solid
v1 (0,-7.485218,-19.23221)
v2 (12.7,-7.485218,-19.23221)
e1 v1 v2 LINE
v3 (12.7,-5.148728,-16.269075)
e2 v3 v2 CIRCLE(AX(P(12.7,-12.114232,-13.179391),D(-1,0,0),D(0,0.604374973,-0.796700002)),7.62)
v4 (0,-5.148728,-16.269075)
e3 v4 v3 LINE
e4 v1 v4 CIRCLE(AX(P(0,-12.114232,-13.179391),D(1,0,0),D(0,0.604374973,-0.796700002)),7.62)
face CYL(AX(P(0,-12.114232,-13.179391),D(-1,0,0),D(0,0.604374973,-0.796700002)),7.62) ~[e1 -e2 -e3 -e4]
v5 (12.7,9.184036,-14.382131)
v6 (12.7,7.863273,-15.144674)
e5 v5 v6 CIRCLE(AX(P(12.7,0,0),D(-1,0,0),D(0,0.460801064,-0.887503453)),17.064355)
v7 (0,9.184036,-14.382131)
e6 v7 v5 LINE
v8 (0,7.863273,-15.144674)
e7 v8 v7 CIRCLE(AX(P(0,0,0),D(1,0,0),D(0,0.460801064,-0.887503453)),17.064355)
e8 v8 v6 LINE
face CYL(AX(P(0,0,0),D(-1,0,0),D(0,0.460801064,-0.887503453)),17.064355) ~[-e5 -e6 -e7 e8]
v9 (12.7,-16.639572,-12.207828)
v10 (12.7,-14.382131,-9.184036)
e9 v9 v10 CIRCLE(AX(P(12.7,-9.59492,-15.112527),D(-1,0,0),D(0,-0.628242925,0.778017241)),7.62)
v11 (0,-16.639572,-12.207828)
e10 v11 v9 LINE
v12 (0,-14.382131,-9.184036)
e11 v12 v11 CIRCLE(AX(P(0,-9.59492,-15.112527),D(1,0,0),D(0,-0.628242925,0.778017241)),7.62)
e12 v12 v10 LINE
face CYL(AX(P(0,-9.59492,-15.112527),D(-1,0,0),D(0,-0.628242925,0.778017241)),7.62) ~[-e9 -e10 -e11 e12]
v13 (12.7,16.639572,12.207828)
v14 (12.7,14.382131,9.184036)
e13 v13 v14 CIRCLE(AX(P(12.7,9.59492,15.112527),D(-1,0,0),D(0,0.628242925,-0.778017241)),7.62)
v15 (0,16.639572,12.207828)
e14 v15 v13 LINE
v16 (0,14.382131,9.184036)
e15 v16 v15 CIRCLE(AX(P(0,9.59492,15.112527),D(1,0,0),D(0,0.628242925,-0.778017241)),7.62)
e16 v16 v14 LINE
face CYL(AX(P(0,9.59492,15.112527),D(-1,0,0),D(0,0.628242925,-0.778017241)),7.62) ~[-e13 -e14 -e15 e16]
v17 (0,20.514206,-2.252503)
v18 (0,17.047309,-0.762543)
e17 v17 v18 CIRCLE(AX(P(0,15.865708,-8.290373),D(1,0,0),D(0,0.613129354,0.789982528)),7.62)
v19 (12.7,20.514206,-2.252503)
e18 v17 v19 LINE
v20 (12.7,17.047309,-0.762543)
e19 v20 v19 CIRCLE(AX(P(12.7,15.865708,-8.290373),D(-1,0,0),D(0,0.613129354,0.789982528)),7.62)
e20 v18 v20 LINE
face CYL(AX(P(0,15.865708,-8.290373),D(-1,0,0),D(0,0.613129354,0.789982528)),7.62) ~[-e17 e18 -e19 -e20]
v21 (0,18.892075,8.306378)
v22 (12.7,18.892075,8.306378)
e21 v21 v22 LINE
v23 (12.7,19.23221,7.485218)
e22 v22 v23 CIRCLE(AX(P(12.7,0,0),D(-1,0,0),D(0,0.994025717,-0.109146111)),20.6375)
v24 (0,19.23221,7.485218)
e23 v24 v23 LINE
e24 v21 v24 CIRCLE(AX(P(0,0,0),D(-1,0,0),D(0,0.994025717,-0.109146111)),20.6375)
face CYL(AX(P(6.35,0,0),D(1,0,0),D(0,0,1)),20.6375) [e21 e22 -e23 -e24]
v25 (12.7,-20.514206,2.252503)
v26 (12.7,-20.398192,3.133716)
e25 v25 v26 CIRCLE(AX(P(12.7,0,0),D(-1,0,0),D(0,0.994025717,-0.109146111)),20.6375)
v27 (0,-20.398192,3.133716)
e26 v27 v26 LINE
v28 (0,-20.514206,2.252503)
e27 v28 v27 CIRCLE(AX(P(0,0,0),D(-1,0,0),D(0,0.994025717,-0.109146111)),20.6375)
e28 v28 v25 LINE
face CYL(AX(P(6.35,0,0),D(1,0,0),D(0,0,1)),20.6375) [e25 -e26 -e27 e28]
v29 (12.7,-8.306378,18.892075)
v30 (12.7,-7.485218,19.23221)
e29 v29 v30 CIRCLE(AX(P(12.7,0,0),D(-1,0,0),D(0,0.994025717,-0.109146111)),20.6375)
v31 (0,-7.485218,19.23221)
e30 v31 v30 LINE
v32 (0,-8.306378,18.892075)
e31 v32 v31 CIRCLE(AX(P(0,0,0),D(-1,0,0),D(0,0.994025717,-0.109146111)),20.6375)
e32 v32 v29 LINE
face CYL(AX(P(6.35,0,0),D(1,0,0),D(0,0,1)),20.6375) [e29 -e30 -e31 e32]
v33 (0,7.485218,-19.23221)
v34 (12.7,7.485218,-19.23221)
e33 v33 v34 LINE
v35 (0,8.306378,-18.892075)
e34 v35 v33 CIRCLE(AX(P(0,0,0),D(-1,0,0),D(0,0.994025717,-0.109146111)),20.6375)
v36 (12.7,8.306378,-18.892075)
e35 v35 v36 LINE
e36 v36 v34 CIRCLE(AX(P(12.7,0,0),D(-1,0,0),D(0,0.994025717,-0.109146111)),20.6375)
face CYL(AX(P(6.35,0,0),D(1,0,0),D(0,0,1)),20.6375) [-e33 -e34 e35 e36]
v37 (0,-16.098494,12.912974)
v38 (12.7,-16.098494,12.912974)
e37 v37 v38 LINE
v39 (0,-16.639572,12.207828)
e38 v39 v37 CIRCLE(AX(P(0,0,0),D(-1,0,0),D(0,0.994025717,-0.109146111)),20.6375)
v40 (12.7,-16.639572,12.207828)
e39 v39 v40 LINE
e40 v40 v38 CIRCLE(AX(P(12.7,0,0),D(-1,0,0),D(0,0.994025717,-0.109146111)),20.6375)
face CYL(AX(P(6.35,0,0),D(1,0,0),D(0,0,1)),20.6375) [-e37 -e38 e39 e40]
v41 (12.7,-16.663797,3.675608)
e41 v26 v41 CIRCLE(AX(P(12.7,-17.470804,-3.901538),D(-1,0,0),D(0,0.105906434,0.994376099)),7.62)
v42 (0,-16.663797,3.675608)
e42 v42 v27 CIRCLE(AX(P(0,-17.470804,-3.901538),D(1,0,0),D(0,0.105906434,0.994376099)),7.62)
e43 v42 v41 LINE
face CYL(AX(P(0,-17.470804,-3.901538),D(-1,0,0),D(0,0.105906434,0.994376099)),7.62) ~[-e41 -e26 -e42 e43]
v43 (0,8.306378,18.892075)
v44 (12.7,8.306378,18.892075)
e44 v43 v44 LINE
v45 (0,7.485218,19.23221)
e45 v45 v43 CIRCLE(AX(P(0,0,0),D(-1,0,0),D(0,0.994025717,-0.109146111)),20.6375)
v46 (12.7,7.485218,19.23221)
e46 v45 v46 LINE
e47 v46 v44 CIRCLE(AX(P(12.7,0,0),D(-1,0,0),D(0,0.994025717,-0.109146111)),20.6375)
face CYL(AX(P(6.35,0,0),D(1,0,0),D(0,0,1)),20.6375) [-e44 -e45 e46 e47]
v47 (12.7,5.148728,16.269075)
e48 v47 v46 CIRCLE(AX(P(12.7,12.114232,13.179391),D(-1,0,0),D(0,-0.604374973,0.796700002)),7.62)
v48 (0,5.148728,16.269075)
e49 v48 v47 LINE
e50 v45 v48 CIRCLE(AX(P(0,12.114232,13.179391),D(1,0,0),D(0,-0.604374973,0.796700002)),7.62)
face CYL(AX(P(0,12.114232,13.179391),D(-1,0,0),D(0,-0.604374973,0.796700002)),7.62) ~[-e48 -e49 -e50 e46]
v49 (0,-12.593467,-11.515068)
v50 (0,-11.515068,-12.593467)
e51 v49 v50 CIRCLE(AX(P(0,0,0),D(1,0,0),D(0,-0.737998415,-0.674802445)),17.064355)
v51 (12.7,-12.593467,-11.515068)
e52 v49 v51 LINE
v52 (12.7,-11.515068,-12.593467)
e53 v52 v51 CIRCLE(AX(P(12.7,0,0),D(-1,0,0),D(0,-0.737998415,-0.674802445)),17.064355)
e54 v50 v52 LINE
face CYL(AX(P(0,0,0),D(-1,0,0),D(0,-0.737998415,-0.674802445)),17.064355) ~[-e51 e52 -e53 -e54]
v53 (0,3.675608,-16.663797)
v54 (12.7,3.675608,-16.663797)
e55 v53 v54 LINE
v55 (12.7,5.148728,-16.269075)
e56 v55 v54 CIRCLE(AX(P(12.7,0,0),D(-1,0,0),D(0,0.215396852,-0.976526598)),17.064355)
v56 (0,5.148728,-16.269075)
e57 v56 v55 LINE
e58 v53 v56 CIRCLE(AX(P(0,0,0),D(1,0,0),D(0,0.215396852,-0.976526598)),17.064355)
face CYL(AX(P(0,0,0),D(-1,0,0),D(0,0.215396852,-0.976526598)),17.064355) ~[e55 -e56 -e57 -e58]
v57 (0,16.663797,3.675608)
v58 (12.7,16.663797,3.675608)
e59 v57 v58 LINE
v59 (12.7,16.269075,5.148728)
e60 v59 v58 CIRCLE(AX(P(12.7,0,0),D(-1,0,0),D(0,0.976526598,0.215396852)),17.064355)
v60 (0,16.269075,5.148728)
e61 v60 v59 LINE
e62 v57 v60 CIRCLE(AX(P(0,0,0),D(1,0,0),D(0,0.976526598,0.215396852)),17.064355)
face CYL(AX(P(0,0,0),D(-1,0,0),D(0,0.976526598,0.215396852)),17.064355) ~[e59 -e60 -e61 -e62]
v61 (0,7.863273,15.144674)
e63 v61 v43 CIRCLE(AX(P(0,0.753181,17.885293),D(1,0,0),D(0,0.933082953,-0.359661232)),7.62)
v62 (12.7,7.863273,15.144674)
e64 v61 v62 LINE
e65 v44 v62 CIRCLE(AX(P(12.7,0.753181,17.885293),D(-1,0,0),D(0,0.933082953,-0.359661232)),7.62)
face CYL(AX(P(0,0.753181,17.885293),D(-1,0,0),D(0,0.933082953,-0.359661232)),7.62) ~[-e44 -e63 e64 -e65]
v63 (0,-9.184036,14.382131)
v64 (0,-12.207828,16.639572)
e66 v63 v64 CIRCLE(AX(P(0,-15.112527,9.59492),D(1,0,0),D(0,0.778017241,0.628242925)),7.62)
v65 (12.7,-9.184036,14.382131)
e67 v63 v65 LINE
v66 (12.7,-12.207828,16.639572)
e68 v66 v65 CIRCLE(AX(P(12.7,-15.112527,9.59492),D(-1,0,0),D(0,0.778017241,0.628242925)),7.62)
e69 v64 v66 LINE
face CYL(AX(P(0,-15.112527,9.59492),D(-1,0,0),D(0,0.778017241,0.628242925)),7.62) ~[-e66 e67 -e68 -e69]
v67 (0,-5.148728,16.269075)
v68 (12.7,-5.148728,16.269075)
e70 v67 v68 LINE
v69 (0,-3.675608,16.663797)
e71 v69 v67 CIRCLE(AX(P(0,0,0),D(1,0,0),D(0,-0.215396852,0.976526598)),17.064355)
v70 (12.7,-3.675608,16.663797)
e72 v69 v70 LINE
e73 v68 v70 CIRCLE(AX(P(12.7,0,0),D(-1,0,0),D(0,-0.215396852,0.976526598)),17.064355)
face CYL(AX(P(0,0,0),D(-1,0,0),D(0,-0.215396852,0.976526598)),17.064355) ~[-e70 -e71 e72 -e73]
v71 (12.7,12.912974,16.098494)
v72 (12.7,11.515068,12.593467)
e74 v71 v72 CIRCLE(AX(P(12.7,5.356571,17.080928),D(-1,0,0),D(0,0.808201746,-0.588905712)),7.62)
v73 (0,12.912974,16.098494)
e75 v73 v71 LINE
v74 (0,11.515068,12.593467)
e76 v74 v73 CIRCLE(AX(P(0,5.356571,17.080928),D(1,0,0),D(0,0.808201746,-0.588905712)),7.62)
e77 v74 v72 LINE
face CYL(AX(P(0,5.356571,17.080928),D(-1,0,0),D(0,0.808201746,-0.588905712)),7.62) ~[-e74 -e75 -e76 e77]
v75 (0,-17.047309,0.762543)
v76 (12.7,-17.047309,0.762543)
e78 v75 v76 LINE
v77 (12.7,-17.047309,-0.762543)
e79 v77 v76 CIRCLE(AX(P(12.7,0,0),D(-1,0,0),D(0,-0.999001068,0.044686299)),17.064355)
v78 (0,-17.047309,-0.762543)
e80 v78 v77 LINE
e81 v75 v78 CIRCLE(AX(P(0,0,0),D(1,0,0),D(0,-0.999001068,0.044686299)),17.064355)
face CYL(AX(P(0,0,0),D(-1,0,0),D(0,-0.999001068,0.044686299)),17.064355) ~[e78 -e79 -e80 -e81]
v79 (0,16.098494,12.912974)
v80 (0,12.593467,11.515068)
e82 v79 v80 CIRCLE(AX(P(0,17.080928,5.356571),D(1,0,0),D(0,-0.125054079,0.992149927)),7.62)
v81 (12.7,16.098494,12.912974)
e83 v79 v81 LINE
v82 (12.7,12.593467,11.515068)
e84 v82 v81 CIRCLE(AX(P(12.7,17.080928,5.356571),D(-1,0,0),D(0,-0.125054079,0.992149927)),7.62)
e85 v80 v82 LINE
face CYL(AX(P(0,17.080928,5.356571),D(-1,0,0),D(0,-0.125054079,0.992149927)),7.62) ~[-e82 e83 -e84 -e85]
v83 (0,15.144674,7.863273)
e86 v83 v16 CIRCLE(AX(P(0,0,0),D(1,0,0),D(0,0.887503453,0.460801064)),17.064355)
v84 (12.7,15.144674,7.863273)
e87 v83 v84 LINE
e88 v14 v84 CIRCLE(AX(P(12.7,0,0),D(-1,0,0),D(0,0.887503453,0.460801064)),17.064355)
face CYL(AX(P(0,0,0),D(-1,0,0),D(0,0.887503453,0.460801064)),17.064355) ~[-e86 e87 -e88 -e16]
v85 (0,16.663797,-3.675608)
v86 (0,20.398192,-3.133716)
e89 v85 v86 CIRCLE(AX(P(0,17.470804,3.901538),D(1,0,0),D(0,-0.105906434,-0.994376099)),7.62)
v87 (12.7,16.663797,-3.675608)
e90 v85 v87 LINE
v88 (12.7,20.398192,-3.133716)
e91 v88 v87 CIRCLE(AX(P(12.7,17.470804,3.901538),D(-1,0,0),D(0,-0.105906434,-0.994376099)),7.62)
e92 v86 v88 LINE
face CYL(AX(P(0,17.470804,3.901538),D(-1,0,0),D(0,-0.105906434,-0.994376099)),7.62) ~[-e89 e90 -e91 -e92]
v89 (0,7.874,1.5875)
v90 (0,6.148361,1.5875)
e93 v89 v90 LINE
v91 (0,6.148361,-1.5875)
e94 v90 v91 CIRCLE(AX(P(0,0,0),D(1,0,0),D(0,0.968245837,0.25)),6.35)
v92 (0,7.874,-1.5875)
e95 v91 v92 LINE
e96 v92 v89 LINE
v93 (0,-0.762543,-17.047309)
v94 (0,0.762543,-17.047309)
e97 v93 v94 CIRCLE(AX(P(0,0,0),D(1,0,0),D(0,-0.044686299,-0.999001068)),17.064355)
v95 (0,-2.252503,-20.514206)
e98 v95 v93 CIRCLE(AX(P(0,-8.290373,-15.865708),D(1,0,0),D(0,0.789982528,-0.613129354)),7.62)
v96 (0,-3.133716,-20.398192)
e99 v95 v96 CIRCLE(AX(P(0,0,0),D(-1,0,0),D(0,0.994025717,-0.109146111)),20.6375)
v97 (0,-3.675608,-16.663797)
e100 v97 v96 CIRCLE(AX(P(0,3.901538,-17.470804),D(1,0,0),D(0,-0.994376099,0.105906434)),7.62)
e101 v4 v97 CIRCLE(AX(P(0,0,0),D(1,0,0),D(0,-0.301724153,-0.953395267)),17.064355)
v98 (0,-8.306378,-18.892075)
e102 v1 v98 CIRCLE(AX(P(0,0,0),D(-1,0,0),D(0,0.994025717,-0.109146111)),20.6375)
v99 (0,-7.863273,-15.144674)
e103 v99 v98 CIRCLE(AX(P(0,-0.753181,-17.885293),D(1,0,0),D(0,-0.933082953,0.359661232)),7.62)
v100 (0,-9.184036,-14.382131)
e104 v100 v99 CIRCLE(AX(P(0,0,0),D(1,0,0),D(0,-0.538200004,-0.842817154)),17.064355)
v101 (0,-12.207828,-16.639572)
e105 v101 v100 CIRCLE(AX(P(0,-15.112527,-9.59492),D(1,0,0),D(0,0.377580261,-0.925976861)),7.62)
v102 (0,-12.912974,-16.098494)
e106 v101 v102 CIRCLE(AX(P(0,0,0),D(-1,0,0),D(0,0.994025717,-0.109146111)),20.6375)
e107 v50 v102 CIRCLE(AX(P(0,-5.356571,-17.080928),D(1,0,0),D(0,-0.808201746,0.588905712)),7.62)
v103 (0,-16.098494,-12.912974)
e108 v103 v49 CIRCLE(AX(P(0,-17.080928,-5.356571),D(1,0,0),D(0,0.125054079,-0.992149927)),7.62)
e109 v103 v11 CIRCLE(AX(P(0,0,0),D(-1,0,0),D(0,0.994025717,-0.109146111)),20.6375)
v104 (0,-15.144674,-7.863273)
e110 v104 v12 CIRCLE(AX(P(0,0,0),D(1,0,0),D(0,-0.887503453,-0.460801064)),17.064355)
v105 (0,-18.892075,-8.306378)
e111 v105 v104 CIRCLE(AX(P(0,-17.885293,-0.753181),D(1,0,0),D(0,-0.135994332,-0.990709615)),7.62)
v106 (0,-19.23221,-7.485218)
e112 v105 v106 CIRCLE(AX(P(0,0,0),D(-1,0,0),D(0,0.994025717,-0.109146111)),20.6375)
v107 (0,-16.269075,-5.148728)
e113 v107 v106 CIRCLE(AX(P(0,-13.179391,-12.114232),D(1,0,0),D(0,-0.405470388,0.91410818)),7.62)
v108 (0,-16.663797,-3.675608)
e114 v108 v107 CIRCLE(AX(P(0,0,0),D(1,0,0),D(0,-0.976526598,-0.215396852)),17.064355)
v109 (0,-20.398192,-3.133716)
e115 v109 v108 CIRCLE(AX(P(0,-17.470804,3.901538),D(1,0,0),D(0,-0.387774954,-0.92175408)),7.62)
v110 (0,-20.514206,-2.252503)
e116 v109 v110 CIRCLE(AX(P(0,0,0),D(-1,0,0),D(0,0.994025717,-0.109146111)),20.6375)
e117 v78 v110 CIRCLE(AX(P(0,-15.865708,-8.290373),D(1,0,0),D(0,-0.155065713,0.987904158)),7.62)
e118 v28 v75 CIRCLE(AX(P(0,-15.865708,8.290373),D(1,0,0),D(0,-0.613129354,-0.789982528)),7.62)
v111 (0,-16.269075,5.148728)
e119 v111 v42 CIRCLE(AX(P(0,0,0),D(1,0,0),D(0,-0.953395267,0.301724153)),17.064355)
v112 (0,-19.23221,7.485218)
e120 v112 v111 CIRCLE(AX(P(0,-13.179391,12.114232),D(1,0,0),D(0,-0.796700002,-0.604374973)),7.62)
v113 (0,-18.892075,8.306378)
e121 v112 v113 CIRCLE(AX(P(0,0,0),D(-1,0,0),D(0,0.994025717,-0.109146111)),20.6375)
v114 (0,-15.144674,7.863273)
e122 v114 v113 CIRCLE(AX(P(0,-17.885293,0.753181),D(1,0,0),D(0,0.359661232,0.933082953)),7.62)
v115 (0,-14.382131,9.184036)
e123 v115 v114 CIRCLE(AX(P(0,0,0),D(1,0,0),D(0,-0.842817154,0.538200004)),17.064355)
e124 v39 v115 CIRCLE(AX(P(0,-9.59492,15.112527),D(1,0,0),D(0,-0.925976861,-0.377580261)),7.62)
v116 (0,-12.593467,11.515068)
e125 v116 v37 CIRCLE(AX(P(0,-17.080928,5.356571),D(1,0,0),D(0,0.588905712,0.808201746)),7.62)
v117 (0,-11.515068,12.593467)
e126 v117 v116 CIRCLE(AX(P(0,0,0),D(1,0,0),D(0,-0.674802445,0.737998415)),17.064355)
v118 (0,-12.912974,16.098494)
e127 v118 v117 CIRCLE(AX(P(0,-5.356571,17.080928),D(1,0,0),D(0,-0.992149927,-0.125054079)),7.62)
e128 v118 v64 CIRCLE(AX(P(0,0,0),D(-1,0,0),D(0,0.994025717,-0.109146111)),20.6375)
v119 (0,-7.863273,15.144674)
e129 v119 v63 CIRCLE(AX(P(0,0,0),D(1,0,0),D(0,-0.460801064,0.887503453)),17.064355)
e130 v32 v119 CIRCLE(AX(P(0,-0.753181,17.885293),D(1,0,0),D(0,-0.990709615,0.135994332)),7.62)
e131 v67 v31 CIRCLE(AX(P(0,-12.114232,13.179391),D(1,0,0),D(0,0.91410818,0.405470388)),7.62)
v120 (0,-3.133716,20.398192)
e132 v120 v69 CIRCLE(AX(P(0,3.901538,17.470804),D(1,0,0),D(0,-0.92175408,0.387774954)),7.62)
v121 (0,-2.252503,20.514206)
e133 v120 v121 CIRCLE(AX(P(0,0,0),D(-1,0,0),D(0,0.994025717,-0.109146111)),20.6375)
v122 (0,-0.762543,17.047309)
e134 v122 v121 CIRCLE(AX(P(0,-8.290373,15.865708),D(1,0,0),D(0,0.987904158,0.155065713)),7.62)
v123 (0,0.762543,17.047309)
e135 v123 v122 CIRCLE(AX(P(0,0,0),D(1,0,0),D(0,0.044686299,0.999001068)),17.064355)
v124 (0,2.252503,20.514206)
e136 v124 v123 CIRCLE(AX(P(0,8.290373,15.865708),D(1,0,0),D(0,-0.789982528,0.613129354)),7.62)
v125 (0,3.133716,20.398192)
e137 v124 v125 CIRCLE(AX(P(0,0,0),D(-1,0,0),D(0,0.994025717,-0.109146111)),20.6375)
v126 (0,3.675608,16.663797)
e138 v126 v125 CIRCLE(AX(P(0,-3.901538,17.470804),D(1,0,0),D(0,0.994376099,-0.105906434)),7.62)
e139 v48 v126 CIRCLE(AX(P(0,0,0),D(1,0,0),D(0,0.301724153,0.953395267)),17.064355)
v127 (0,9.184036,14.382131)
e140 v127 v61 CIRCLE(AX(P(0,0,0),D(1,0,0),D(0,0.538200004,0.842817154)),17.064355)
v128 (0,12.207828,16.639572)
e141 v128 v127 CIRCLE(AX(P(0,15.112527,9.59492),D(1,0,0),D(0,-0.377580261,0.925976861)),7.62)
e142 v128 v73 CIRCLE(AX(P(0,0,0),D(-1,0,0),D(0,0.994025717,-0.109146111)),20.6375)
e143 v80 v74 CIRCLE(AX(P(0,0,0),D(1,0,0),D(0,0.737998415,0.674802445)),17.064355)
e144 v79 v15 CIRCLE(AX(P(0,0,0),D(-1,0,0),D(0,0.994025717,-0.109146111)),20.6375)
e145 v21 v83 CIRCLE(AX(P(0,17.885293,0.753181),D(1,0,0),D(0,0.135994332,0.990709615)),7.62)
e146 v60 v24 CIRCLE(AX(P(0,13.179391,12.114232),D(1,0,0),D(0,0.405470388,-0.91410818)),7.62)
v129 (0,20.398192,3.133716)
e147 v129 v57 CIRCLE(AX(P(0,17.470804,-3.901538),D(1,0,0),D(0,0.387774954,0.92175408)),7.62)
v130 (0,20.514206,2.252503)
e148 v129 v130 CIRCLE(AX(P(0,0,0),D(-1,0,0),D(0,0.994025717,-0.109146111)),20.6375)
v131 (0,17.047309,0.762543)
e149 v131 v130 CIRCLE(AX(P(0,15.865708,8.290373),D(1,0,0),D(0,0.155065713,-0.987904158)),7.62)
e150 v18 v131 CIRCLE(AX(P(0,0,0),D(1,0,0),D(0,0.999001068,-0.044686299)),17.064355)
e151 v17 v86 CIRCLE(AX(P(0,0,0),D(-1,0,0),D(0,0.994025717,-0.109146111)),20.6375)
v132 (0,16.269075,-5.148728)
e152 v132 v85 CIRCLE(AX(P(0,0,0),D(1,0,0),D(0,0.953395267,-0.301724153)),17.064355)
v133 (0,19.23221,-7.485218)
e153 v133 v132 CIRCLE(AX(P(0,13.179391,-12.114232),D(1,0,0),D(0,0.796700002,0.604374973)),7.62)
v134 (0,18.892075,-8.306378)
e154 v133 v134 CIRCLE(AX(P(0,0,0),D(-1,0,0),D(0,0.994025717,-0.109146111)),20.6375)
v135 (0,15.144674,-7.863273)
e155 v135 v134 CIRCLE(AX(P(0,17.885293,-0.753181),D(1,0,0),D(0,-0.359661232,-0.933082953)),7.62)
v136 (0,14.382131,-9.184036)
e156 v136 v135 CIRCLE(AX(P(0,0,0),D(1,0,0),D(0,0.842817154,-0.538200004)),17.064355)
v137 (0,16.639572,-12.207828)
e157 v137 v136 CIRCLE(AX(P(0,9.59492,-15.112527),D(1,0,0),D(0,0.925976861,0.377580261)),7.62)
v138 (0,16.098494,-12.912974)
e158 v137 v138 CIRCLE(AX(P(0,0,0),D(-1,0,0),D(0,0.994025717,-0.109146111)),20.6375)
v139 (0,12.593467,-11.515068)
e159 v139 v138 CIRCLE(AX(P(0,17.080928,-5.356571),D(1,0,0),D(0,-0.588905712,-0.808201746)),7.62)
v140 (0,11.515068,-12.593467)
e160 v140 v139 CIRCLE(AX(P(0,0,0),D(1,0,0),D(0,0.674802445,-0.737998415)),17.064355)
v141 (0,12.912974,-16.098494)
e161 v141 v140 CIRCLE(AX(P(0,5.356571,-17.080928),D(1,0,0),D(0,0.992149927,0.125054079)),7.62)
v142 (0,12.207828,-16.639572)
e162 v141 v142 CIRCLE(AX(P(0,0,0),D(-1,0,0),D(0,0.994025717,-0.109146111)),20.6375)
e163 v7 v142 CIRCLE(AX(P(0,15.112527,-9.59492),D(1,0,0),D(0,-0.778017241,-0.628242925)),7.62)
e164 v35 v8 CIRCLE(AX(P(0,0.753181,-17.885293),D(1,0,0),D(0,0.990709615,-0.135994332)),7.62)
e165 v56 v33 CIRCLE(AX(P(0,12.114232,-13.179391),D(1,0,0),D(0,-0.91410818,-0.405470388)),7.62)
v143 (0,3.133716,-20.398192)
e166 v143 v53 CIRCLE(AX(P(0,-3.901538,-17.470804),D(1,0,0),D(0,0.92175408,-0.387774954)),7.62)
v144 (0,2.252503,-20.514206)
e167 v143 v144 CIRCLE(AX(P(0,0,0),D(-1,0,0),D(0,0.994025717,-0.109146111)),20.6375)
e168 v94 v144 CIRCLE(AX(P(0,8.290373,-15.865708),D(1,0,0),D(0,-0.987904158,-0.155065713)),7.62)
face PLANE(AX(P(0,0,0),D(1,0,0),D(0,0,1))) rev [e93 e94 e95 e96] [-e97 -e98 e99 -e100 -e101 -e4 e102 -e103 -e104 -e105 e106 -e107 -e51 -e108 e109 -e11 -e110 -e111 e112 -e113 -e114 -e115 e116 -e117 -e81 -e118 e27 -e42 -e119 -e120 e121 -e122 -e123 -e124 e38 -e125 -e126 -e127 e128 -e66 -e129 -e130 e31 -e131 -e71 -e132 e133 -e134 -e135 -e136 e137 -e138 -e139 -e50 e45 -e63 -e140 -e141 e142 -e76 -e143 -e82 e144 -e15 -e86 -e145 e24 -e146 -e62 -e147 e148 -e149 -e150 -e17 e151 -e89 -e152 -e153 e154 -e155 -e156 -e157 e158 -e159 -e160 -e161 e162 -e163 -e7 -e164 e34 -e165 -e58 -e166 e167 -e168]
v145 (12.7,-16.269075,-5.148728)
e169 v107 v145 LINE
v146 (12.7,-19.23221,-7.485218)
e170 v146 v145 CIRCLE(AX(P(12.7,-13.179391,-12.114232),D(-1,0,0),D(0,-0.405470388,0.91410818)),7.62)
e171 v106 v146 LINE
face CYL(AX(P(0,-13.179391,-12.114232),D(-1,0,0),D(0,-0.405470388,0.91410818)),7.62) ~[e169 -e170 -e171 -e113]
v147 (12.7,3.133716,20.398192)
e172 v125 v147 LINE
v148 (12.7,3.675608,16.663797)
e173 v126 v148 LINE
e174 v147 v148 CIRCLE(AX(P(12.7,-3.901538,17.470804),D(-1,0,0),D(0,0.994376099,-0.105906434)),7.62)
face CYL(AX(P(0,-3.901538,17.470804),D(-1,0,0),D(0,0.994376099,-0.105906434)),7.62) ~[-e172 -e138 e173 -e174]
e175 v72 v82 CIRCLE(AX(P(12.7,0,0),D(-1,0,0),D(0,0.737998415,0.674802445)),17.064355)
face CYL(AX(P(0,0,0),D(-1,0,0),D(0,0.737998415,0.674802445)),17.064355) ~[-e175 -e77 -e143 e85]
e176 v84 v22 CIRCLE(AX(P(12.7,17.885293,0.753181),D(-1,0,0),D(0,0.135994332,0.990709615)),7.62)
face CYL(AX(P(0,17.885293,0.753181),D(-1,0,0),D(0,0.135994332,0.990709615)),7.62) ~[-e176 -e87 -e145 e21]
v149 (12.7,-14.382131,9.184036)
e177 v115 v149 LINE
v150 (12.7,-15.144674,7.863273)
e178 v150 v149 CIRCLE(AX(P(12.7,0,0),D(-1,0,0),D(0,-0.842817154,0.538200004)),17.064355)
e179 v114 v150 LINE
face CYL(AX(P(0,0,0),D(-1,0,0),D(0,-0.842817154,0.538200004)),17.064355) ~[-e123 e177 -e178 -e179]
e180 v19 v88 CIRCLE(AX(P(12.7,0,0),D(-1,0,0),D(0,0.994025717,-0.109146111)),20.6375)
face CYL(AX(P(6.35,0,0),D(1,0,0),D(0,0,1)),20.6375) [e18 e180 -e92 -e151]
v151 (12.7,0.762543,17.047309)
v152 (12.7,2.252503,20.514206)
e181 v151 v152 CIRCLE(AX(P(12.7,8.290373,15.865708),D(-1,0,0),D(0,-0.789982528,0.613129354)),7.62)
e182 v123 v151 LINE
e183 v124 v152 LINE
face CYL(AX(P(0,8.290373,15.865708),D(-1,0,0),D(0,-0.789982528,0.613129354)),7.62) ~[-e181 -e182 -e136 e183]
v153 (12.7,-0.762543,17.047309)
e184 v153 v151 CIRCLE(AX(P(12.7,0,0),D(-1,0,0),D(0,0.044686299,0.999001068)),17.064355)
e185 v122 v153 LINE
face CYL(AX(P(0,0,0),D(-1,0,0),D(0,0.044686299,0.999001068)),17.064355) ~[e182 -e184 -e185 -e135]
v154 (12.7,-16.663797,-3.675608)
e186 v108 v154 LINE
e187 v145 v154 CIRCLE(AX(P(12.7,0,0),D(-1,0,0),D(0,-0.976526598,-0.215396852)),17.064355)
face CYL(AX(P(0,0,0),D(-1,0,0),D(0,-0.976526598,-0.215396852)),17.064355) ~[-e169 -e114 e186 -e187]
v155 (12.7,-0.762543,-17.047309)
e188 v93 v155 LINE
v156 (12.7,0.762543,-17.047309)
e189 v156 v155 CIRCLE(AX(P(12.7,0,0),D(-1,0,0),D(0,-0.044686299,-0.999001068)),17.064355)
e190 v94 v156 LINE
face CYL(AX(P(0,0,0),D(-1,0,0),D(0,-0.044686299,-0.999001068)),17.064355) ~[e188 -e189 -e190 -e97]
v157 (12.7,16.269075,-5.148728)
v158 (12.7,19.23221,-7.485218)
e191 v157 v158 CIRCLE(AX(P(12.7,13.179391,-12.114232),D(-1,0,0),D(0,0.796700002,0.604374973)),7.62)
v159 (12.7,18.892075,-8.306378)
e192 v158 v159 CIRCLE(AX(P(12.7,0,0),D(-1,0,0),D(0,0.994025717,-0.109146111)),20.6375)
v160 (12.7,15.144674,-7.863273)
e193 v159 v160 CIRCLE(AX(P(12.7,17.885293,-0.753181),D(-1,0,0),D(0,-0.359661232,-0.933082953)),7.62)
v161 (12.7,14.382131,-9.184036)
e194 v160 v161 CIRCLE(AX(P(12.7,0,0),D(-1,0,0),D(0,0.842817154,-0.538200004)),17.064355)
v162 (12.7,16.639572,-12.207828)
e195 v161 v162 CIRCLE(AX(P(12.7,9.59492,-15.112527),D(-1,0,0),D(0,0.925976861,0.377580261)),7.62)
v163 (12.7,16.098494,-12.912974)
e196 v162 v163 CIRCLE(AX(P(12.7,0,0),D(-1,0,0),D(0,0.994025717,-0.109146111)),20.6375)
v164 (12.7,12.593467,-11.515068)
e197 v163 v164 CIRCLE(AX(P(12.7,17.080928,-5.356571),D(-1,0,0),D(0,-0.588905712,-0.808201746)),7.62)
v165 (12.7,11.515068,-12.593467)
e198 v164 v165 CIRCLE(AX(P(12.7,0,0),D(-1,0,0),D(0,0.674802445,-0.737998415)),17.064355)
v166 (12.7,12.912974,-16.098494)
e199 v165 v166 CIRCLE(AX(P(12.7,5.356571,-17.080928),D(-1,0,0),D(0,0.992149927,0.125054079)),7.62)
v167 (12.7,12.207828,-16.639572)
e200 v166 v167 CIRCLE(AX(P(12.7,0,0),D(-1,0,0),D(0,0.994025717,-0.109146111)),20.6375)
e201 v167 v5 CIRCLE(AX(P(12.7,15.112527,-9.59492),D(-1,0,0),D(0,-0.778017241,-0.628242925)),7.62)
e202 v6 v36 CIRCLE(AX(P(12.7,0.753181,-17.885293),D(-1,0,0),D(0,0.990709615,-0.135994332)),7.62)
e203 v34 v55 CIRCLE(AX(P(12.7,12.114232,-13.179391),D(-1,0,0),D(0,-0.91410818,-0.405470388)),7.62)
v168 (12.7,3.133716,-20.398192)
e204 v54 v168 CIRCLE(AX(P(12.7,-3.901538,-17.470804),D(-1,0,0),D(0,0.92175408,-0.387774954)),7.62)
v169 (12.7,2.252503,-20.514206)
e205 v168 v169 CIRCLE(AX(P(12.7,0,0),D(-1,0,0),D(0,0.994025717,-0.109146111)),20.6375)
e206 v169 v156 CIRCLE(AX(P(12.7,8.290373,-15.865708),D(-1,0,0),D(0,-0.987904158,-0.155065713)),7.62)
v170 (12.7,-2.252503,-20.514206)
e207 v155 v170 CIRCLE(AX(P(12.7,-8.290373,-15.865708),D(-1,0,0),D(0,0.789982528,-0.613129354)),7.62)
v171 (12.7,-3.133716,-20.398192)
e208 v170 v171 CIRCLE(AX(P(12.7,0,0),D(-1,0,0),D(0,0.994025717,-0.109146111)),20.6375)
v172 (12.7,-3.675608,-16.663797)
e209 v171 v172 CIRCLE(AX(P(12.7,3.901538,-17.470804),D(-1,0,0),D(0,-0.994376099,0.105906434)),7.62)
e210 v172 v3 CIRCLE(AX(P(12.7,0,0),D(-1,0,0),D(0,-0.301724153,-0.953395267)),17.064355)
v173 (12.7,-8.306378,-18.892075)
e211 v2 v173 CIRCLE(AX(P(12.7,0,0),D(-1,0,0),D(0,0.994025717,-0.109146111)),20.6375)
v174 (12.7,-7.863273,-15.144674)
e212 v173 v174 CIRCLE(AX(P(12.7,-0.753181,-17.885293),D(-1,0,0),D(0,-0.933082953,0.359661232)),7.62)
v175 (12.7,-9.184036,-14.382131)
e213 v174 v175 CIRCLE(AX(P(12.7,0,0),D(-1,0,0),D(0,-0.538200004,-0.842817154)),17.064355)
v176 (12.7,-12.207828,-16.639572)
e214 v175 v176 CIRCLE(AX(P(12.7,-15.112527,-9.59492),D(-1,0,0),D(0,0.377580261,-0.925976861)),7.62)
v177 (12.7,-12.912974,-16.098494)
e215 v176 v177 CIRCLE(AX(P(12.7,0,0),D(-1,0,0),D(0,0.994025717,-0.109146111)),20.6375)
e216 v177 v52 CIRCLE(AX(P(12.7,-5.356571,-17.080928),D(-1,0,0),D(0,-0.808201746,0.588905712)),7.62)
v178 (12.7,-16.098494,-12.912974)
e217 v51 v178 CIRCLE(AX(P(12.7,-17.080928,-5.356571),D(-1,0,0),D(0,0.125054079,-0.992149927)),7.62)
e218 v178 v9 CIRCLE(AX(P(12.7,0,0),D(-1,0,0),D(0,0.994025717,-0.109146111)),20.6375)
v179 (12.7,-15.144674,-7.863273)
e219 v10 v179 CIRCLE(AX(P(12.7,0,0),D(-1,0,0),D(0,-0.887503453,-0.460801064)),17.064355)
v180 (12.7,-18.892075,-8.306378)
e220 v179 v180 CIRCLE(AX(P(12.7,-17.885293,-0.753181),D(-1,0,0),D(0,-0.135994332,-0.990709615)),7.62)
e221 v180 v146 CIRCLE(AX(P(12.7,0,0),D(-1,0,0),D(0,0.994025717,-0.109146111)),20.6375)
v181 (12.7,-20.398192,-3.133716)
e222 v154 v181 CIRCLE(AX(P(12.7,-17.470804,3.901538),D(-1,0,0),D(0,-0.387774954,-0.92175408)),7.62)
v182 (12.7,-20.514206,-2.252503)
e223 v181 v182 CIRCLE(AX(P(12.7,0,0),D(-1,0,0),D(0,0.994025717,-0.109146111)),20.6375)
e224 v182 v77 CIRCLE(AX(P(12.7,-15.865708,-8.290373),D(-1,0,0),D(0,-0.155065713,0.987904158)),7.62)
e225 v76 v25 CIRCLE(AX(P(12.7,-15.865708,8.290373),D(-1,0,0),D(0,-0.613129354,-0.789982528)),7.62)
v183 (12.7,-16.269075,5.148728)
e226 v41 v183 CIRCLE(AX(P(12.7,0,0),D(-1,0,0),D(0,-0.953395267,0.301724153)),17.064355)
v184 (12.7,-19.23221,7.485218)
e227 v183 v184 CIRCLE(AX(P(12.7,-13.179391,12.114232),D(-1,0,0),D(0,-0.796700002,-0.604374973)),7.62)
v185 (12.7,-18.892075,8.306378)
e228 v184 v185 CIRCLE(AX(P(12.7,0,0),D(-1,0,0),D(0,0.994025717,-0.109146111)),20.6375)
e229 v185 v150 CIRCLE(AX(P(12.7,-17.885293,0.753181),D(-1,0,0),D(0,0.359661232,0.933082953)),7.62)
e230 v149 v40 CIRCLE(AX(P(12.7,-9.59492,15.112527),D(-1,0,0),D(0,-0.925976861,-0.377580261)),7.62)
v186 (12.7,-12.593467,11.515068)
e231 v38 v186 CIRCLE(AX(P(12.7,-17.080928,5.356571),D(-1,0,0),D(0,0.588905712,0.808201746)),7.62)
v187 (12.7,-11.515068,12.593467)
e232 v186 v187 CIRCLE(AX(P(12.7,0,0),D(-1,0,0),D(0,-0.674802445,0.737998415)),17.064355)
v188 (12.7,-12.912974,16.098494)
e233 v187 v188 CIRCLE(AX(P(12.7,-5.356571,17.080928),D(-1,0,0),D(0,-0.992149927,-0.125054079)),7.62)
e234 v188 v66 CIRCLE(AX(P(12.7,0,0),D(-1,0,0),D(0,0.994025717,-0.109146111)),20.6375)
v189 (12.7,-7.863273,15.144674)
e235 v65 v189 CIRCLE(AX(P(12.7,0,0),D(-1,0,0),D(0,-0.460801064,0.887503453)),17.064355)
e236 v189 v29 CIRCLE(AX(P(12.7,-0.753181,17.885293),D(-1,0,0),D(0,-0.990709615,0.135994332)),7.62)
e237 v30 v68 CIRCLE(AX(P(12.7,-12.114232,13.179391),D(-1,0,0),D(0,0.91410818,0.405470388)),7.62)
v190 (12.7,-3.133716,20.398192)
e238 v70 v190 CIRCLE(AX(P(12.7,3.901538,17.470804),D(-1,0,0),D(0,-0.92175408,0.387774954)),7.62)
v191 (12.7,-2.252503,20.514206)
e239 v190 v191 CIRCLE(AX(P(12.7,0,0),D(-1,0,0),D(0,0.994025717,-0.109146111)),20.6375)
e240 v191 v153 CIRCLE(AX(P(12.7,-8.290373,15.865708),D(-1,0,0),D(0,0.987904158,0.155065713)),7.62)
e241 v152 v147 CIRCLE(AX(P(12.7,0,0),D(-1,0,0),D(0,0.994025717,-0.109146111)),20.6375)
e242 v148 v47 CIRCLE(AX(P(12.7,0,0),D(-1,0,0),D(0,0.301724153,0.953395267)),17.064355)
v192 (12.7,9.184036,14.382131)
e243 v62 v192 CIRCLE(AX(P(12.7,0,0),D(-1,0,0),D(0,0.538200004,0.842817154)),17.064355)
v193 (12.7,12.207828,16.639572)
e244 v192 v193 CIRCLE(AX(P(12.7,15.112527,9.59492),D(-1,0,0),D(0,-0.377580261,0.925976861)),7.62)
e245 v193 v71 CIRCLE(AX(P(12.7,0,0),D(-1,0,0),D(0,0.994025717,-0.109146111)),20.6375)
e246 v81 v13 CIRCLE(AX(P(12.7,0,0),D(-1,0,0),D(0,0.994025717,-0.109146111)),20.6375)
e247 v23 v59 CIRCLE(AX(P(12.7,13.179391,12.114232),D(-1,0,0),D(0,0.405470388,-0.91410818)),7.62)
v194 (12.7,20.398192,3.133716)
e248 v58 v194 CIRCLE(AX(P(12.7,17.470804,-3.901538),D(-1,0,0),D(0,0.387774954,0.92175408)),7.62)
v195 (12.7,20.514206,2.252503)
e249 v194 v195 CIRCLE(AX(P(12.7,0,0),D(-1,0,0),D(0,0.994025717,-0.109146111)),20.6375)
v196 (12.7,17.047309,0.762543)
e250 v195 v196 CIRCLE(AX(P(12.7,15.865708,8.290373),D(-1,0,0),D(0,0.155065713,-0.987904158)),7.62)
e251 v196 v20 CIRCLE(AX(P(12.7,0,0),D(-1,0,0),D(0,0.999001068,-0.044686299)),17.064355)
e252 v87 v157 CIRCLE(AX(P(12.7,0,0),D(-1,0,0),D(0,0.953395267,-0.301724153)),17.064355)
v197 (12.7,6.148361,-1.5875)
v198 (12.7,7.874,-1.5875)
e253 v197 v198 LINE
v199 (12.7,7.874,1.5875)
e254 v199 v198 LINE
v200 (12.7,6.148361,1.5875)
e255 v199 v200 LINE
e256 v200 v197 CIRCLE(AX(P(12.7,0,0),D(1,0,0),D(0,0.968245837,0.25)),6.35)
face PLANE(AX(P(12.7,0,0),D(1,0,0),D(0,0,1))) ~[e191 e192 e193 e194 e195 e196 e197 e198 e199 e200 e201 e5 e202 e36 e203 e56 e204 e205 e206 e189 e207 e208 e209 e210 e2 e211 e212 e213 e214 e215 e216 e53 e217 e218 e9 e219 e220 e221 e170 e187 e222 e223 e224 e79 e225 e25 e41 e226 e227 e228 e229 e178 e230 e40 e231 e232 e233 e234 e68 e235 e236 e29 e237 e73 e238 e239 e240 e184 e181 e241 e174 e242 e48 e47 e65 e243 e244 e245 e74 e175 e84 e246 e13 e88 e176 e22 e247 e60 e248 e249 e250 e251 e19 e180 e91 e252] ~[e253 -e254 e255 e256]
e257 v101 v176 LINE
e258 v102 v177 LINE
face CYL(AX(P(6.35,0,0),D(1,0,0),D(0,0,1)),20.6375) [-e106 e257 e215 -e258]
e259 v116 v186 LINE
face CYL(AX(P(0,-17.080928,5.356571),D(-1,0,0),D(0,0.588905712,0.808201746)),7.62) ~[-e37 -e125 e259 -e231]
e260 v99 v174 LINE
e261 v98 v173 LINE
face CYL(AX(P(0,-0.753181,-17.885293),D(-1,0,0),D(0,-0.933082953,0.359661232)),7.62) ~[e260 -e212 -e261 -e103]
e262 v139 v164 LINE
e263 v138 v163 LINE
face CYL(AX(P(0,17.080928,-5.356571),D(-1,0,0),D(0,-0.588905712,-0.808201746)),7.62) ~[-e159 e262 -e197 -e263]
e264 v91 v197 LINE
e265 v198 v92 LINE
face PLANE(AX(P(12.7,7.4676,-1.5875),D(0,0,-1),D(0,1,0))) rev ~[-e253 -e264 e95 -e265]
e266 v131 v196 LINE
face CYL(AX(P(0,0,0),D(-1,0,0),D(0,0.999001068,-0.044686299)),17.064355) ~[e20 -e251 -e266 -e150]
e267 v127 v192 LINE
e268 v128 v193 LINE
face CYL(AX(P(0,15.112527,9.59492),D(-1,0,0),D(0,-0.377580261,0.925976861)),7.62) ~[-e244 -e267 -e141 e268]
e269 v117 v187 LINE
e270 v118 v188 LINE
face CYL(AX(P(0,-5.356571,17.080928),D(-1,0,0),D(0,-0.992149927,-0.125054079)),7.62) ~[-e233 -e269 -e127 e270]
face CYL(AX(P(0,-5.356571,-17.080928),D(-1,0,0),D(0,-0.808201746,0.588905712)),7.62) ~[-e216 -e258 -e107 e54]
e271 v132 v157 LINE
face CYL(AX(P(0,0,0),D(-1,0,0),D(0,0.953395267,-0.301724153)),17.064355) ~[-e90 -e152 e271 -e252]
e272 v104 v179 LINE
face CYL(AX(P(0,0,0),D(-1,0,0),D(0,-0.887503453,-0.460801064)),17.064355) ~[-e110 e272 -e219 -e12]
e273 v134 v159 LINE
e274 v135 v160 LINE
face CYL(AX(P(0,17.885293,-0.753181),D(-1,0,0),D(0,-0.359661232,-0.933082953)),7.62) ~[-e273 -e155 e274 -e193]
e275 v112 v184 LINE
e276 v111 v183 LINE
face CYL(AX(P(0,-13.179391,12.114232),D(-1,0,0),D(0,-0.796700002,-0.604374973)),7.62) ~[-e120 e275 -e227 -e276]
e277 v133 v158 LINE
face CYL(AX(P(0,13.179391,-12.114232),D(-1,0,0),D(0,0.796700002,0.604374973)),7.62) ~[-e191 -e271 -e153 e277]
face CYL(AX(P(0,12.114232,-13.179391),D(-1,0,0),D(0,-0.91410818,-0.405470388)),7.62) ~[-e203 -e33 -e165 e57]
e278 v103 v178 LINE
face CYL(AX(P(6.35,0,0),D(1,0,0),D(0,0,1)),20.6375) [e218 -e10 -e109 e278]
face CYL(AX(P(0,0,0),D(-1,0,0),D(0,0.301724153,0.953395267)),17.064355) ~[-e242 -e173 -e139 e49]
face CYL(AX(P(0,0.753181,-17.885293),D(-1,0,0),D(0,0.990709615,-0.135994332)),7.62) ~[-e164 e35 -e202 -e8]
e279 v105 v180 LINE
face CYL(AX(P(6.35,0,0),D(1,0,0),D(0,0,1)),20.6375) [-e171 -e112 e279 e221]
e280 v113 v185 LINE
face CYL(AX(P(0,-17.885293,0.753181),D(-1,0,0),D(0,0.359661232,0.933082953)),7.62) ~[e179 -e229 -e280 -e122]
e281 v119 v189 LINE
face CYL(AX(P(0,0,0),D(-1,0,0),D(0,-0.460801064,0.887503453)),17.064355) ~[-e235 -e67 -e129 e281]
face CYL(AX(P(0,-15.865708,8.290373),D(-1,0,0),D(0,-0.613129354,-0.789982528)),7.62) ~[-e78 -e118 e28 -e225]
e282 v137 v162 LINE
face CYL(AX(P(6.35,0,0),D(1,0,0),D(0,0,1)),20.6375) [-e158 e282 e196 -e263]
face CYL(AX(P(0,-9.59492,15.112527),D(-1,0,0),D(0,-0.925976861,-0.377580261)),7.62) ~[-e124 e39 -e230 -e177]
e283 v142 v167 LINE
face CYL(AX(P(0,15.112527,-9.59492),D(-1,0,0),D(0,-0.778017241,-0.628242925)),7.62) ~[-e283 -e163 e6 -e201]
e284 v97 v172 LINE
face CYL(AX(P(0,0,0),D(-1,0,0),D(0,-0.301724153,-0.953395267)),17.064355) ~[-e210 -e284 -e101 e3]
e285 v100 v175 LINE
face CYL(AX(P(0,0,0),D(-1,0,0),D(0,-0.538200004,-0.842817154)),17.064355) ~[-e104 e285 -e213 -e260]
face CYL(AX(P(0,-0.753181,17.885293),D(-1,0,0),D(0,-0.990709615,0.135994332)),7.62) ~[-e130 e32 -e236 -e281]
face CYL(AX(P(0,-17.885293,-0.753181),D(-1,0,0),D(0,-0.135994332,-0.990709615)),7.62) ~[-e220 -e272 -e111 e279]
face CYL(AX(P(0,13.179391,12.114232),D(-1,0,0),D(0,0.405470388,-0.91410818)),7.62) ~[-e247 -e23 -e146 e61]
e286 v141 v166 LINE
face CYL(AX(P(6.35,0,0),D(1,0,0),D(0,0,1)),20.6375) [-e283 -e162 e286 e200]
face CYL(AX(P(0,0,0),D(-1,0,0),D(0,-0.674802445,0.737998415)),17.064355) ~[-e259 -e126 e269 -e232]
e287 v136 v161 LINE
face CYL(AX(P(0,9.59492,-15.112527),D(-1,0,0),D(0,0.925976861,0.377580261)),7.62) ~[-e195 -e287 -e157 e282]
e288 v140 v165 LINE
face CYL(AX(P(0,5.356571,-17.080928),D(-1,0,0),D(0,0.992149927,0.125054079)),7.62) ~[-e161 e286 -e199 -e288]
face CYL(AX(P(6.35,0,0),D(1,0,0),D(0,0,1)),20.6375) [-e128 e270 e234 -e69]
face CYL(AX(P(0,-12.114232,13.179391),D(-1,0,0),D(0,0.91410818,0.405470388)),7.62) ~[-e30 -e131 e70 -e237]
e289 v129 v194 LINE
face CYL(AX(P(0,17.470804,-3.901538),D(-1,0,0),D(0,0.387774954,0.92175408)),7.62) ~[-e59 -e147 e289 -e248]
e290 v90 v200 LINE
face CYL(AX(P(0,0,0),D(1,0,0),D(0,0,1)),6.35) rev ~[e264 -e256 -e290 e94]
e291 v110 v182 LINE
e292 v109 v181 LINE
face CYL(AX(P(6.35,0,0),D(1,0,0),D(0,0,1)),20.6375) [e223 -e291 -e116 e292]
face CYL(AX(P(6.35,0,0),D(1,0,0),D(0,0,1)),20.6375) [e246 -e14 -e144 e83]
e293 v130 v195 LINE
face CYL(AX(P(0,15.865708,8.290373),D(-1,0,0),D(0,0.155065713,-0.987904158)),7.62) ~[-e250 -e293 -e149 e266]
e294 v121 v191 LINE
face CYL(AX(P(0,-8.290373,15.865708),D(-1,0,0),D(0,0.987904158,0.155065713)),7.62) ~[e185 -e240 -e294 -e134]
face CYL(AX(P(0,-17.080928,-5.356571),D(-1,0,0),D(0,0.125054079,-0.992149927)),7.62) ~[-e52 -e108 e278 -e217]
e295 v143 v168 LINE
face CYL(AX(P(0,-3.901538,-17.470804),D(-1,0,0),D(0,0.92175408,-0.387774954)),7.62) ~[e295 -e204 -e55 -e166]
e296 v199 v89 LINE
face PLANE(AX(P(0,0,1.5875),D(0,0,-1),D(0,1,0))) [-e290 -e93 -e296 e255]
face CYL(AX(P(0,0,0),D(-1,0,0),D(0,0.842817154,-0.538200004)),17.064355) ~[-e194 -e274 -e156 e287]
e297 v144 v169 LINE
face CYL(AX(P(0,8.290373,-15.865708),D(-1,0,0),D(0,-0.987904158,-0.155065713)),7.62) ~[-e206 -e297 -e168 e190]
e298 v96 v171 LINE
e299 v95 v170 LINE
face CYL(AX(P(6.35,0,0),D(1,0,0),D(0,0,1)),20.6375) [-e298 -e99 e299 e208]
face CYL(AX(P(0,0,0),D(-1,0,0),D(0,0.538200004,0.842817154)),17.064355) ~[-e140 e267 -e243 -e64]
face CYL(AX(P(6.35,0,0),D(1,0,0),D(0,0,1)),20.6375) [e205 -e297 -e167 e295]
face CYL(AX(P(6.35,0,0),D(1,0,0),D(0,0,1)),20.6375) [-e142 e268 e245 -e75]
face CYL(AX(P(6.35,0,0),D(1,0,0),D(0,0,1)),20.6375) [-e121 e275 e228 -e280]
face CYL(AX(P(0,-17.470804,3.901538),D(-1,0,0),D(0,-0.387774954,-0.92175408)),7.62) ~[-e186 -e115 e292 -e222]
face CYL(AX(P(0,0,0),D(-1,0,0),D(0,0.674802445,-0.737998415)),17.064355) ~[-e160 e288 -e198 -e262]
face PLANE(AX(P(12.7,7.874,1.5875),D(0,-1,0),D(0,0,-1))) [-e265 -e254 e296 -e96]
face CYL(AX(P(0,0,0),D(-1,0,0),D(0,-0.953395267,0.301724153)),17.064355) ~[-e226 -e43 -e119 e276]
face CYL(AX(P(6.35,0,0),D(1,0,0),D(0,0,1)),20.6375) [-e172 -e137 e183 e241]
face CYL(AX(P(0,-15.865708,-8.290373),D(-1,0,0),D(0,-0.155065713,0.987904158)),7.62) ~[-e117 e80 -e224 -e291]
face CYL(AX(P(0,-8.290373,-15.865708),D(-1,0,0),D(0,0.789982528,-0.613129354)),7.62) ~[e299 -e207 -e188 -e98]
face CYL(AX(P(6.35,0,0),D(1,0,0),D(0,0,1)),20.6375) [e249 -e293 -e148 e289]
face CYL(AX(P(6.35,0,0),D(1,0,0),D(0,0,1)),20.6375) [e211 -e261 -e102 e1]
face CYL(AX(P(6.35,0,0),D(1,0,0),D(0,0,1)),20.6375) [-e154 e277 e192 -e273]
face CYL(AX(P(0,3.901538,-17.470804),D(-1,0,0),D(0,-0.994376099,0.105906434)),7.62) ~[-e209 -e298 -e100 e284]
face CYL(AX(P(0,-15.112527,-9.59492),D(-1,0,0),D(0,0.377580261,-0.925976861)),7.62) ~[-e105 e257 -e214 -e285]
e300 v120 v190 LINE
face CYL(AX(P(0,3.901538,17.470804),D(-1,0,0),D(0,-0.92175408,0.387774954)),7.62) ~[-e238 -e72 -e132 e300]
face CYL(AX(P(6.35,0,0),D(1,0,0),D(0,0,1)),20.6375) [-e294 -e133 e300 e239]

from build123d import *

# Parameters (mm, degrees)
BASPROSKE_W             = 12.7
BASPROSKE_H             = 20.6375
TOOTHCUT_DEPTH          = 32.829276029
TEETHCUTS_COUNT         = 24
BORSKE_R                = 6.35
BORE_DEPTH              = 50.8000508
KEYSKE_W                = 3.175
KEYSKE_H                = 7.4676
KEYWAY_DEPTH            = 50.8000508
SKETCH1_W               = 3.175
SKETCH1_H               = 0.4064
CUT_EXTRUDE3_DEPTH      = 32.669469117
CUT_EXTRUDE3_DEPTH_BACK = 32.669469117


with BuildPart() as part:
    # BasProSke → Base-Revolve (revolve)
    with BuildSketch(Plane(origin=(0, 0, 0), x_dir=(1, 0, 0), z_dir=(0, 1, 0)), mode=Mode.PRIVATE) as base_revolve_sk:
        with Locations((6.35, 10.31875)):
            Rectangle(BASPROSKE_W, BASPROSKE_H)
    revolve(base_revolve_sk.sketch.rotate(Axis((-10, 0, 0), (1, 0, 0)), 180), axis=Axis((-10, 0, 0), (1, 0, 0)))

    # TooCutSke → ToothCut (cut, through all)
    with BuildSketch(Plane(origin=(0, 0, 0), x_dir=(0, 0, -1), z_dir=(1, 0, 0))):
        with BuildLine():
            ThreePointArc((0.762542858, 17.047308877), (0, 17.064355), (-0.762542858, 17.047308877))
            ThreePointArc((-0.762542858, 17.047308877), (-1.295412414, 18.888113288), (-2.270705673, 20.537753824))
            ThreePointArc((-2.270705673, 20.537753824), (0, 20.6629), (2.270705673, 20.537753824))
            ThreePointArc((2.270705673, 20.537753824), (1.295412414, 18.888113288), (0.762542858, 17.047308877))
        make_face()
    toothcut = extrude(amount=TOOTHCUT_DEPTH, mode=Mode.SUBTRACT)

    # TeethCuts: ToothCut ×24 about axis
    teethcuts_axis = Axis((0, 0, 0), (1, 0, 0))
    for i in range(1, TEETHCUTS_COUNT):
        add(toothcut.rotate(teethcuts_axis, i * 360 / TEETHCUTS_COUNT), mode=Mode.SUBTRACT)

    # BorSke → Bore (cut, symmetric)
    with BuildSketch(Plane(origin=(0, 0, 0), x_dir=(0, 0, -1), z_dir=(1, 0, 0))):
        with Locations(Location((0, 0, 0), (0, 0, 180))):
            Circle(BORSKE_R)
    extrude(amount=BORE_DEPTH, both=True, mode=Mode.SUBTRACT)

    # KeySke → Keyway (cut, symmetric)
    with BuildSketch(Plane(origin=(0, 0, 0), x_dir=(0, 0, -1), z_dir=(1, 0, 0))):
        with Locations((0, 3.7338)):
            Rectangle(KEYSKE_W, KEYSKE_H)
    extrude(amount=KEYWAY_DEPTH, both=True, mode=Mode.SUBTRACT)

    # Sketch1 → Cut-Extrude3 (cut, two sides)
    with BuildSketch(Plane(origin=(12.7, 0, 0), x_dir=(0, 0, -1), z_dir=(1, 0, 0))) as cut_extrude3_sk:
        with Locations((0, 7.6708)):
            Rectangle(SKETCH1_W, SKETCH1_H)
    extrude(amount=CUT_EXTRUDE3_DEPTH, mode=Mode.SUBTRACT)
    extrude(cut_extrude3_sk.sketch, amount=-CUT_EXTRUDE3_DEPTH_BACK, mode=Mode.SUBTRACT)


solid = part.part
